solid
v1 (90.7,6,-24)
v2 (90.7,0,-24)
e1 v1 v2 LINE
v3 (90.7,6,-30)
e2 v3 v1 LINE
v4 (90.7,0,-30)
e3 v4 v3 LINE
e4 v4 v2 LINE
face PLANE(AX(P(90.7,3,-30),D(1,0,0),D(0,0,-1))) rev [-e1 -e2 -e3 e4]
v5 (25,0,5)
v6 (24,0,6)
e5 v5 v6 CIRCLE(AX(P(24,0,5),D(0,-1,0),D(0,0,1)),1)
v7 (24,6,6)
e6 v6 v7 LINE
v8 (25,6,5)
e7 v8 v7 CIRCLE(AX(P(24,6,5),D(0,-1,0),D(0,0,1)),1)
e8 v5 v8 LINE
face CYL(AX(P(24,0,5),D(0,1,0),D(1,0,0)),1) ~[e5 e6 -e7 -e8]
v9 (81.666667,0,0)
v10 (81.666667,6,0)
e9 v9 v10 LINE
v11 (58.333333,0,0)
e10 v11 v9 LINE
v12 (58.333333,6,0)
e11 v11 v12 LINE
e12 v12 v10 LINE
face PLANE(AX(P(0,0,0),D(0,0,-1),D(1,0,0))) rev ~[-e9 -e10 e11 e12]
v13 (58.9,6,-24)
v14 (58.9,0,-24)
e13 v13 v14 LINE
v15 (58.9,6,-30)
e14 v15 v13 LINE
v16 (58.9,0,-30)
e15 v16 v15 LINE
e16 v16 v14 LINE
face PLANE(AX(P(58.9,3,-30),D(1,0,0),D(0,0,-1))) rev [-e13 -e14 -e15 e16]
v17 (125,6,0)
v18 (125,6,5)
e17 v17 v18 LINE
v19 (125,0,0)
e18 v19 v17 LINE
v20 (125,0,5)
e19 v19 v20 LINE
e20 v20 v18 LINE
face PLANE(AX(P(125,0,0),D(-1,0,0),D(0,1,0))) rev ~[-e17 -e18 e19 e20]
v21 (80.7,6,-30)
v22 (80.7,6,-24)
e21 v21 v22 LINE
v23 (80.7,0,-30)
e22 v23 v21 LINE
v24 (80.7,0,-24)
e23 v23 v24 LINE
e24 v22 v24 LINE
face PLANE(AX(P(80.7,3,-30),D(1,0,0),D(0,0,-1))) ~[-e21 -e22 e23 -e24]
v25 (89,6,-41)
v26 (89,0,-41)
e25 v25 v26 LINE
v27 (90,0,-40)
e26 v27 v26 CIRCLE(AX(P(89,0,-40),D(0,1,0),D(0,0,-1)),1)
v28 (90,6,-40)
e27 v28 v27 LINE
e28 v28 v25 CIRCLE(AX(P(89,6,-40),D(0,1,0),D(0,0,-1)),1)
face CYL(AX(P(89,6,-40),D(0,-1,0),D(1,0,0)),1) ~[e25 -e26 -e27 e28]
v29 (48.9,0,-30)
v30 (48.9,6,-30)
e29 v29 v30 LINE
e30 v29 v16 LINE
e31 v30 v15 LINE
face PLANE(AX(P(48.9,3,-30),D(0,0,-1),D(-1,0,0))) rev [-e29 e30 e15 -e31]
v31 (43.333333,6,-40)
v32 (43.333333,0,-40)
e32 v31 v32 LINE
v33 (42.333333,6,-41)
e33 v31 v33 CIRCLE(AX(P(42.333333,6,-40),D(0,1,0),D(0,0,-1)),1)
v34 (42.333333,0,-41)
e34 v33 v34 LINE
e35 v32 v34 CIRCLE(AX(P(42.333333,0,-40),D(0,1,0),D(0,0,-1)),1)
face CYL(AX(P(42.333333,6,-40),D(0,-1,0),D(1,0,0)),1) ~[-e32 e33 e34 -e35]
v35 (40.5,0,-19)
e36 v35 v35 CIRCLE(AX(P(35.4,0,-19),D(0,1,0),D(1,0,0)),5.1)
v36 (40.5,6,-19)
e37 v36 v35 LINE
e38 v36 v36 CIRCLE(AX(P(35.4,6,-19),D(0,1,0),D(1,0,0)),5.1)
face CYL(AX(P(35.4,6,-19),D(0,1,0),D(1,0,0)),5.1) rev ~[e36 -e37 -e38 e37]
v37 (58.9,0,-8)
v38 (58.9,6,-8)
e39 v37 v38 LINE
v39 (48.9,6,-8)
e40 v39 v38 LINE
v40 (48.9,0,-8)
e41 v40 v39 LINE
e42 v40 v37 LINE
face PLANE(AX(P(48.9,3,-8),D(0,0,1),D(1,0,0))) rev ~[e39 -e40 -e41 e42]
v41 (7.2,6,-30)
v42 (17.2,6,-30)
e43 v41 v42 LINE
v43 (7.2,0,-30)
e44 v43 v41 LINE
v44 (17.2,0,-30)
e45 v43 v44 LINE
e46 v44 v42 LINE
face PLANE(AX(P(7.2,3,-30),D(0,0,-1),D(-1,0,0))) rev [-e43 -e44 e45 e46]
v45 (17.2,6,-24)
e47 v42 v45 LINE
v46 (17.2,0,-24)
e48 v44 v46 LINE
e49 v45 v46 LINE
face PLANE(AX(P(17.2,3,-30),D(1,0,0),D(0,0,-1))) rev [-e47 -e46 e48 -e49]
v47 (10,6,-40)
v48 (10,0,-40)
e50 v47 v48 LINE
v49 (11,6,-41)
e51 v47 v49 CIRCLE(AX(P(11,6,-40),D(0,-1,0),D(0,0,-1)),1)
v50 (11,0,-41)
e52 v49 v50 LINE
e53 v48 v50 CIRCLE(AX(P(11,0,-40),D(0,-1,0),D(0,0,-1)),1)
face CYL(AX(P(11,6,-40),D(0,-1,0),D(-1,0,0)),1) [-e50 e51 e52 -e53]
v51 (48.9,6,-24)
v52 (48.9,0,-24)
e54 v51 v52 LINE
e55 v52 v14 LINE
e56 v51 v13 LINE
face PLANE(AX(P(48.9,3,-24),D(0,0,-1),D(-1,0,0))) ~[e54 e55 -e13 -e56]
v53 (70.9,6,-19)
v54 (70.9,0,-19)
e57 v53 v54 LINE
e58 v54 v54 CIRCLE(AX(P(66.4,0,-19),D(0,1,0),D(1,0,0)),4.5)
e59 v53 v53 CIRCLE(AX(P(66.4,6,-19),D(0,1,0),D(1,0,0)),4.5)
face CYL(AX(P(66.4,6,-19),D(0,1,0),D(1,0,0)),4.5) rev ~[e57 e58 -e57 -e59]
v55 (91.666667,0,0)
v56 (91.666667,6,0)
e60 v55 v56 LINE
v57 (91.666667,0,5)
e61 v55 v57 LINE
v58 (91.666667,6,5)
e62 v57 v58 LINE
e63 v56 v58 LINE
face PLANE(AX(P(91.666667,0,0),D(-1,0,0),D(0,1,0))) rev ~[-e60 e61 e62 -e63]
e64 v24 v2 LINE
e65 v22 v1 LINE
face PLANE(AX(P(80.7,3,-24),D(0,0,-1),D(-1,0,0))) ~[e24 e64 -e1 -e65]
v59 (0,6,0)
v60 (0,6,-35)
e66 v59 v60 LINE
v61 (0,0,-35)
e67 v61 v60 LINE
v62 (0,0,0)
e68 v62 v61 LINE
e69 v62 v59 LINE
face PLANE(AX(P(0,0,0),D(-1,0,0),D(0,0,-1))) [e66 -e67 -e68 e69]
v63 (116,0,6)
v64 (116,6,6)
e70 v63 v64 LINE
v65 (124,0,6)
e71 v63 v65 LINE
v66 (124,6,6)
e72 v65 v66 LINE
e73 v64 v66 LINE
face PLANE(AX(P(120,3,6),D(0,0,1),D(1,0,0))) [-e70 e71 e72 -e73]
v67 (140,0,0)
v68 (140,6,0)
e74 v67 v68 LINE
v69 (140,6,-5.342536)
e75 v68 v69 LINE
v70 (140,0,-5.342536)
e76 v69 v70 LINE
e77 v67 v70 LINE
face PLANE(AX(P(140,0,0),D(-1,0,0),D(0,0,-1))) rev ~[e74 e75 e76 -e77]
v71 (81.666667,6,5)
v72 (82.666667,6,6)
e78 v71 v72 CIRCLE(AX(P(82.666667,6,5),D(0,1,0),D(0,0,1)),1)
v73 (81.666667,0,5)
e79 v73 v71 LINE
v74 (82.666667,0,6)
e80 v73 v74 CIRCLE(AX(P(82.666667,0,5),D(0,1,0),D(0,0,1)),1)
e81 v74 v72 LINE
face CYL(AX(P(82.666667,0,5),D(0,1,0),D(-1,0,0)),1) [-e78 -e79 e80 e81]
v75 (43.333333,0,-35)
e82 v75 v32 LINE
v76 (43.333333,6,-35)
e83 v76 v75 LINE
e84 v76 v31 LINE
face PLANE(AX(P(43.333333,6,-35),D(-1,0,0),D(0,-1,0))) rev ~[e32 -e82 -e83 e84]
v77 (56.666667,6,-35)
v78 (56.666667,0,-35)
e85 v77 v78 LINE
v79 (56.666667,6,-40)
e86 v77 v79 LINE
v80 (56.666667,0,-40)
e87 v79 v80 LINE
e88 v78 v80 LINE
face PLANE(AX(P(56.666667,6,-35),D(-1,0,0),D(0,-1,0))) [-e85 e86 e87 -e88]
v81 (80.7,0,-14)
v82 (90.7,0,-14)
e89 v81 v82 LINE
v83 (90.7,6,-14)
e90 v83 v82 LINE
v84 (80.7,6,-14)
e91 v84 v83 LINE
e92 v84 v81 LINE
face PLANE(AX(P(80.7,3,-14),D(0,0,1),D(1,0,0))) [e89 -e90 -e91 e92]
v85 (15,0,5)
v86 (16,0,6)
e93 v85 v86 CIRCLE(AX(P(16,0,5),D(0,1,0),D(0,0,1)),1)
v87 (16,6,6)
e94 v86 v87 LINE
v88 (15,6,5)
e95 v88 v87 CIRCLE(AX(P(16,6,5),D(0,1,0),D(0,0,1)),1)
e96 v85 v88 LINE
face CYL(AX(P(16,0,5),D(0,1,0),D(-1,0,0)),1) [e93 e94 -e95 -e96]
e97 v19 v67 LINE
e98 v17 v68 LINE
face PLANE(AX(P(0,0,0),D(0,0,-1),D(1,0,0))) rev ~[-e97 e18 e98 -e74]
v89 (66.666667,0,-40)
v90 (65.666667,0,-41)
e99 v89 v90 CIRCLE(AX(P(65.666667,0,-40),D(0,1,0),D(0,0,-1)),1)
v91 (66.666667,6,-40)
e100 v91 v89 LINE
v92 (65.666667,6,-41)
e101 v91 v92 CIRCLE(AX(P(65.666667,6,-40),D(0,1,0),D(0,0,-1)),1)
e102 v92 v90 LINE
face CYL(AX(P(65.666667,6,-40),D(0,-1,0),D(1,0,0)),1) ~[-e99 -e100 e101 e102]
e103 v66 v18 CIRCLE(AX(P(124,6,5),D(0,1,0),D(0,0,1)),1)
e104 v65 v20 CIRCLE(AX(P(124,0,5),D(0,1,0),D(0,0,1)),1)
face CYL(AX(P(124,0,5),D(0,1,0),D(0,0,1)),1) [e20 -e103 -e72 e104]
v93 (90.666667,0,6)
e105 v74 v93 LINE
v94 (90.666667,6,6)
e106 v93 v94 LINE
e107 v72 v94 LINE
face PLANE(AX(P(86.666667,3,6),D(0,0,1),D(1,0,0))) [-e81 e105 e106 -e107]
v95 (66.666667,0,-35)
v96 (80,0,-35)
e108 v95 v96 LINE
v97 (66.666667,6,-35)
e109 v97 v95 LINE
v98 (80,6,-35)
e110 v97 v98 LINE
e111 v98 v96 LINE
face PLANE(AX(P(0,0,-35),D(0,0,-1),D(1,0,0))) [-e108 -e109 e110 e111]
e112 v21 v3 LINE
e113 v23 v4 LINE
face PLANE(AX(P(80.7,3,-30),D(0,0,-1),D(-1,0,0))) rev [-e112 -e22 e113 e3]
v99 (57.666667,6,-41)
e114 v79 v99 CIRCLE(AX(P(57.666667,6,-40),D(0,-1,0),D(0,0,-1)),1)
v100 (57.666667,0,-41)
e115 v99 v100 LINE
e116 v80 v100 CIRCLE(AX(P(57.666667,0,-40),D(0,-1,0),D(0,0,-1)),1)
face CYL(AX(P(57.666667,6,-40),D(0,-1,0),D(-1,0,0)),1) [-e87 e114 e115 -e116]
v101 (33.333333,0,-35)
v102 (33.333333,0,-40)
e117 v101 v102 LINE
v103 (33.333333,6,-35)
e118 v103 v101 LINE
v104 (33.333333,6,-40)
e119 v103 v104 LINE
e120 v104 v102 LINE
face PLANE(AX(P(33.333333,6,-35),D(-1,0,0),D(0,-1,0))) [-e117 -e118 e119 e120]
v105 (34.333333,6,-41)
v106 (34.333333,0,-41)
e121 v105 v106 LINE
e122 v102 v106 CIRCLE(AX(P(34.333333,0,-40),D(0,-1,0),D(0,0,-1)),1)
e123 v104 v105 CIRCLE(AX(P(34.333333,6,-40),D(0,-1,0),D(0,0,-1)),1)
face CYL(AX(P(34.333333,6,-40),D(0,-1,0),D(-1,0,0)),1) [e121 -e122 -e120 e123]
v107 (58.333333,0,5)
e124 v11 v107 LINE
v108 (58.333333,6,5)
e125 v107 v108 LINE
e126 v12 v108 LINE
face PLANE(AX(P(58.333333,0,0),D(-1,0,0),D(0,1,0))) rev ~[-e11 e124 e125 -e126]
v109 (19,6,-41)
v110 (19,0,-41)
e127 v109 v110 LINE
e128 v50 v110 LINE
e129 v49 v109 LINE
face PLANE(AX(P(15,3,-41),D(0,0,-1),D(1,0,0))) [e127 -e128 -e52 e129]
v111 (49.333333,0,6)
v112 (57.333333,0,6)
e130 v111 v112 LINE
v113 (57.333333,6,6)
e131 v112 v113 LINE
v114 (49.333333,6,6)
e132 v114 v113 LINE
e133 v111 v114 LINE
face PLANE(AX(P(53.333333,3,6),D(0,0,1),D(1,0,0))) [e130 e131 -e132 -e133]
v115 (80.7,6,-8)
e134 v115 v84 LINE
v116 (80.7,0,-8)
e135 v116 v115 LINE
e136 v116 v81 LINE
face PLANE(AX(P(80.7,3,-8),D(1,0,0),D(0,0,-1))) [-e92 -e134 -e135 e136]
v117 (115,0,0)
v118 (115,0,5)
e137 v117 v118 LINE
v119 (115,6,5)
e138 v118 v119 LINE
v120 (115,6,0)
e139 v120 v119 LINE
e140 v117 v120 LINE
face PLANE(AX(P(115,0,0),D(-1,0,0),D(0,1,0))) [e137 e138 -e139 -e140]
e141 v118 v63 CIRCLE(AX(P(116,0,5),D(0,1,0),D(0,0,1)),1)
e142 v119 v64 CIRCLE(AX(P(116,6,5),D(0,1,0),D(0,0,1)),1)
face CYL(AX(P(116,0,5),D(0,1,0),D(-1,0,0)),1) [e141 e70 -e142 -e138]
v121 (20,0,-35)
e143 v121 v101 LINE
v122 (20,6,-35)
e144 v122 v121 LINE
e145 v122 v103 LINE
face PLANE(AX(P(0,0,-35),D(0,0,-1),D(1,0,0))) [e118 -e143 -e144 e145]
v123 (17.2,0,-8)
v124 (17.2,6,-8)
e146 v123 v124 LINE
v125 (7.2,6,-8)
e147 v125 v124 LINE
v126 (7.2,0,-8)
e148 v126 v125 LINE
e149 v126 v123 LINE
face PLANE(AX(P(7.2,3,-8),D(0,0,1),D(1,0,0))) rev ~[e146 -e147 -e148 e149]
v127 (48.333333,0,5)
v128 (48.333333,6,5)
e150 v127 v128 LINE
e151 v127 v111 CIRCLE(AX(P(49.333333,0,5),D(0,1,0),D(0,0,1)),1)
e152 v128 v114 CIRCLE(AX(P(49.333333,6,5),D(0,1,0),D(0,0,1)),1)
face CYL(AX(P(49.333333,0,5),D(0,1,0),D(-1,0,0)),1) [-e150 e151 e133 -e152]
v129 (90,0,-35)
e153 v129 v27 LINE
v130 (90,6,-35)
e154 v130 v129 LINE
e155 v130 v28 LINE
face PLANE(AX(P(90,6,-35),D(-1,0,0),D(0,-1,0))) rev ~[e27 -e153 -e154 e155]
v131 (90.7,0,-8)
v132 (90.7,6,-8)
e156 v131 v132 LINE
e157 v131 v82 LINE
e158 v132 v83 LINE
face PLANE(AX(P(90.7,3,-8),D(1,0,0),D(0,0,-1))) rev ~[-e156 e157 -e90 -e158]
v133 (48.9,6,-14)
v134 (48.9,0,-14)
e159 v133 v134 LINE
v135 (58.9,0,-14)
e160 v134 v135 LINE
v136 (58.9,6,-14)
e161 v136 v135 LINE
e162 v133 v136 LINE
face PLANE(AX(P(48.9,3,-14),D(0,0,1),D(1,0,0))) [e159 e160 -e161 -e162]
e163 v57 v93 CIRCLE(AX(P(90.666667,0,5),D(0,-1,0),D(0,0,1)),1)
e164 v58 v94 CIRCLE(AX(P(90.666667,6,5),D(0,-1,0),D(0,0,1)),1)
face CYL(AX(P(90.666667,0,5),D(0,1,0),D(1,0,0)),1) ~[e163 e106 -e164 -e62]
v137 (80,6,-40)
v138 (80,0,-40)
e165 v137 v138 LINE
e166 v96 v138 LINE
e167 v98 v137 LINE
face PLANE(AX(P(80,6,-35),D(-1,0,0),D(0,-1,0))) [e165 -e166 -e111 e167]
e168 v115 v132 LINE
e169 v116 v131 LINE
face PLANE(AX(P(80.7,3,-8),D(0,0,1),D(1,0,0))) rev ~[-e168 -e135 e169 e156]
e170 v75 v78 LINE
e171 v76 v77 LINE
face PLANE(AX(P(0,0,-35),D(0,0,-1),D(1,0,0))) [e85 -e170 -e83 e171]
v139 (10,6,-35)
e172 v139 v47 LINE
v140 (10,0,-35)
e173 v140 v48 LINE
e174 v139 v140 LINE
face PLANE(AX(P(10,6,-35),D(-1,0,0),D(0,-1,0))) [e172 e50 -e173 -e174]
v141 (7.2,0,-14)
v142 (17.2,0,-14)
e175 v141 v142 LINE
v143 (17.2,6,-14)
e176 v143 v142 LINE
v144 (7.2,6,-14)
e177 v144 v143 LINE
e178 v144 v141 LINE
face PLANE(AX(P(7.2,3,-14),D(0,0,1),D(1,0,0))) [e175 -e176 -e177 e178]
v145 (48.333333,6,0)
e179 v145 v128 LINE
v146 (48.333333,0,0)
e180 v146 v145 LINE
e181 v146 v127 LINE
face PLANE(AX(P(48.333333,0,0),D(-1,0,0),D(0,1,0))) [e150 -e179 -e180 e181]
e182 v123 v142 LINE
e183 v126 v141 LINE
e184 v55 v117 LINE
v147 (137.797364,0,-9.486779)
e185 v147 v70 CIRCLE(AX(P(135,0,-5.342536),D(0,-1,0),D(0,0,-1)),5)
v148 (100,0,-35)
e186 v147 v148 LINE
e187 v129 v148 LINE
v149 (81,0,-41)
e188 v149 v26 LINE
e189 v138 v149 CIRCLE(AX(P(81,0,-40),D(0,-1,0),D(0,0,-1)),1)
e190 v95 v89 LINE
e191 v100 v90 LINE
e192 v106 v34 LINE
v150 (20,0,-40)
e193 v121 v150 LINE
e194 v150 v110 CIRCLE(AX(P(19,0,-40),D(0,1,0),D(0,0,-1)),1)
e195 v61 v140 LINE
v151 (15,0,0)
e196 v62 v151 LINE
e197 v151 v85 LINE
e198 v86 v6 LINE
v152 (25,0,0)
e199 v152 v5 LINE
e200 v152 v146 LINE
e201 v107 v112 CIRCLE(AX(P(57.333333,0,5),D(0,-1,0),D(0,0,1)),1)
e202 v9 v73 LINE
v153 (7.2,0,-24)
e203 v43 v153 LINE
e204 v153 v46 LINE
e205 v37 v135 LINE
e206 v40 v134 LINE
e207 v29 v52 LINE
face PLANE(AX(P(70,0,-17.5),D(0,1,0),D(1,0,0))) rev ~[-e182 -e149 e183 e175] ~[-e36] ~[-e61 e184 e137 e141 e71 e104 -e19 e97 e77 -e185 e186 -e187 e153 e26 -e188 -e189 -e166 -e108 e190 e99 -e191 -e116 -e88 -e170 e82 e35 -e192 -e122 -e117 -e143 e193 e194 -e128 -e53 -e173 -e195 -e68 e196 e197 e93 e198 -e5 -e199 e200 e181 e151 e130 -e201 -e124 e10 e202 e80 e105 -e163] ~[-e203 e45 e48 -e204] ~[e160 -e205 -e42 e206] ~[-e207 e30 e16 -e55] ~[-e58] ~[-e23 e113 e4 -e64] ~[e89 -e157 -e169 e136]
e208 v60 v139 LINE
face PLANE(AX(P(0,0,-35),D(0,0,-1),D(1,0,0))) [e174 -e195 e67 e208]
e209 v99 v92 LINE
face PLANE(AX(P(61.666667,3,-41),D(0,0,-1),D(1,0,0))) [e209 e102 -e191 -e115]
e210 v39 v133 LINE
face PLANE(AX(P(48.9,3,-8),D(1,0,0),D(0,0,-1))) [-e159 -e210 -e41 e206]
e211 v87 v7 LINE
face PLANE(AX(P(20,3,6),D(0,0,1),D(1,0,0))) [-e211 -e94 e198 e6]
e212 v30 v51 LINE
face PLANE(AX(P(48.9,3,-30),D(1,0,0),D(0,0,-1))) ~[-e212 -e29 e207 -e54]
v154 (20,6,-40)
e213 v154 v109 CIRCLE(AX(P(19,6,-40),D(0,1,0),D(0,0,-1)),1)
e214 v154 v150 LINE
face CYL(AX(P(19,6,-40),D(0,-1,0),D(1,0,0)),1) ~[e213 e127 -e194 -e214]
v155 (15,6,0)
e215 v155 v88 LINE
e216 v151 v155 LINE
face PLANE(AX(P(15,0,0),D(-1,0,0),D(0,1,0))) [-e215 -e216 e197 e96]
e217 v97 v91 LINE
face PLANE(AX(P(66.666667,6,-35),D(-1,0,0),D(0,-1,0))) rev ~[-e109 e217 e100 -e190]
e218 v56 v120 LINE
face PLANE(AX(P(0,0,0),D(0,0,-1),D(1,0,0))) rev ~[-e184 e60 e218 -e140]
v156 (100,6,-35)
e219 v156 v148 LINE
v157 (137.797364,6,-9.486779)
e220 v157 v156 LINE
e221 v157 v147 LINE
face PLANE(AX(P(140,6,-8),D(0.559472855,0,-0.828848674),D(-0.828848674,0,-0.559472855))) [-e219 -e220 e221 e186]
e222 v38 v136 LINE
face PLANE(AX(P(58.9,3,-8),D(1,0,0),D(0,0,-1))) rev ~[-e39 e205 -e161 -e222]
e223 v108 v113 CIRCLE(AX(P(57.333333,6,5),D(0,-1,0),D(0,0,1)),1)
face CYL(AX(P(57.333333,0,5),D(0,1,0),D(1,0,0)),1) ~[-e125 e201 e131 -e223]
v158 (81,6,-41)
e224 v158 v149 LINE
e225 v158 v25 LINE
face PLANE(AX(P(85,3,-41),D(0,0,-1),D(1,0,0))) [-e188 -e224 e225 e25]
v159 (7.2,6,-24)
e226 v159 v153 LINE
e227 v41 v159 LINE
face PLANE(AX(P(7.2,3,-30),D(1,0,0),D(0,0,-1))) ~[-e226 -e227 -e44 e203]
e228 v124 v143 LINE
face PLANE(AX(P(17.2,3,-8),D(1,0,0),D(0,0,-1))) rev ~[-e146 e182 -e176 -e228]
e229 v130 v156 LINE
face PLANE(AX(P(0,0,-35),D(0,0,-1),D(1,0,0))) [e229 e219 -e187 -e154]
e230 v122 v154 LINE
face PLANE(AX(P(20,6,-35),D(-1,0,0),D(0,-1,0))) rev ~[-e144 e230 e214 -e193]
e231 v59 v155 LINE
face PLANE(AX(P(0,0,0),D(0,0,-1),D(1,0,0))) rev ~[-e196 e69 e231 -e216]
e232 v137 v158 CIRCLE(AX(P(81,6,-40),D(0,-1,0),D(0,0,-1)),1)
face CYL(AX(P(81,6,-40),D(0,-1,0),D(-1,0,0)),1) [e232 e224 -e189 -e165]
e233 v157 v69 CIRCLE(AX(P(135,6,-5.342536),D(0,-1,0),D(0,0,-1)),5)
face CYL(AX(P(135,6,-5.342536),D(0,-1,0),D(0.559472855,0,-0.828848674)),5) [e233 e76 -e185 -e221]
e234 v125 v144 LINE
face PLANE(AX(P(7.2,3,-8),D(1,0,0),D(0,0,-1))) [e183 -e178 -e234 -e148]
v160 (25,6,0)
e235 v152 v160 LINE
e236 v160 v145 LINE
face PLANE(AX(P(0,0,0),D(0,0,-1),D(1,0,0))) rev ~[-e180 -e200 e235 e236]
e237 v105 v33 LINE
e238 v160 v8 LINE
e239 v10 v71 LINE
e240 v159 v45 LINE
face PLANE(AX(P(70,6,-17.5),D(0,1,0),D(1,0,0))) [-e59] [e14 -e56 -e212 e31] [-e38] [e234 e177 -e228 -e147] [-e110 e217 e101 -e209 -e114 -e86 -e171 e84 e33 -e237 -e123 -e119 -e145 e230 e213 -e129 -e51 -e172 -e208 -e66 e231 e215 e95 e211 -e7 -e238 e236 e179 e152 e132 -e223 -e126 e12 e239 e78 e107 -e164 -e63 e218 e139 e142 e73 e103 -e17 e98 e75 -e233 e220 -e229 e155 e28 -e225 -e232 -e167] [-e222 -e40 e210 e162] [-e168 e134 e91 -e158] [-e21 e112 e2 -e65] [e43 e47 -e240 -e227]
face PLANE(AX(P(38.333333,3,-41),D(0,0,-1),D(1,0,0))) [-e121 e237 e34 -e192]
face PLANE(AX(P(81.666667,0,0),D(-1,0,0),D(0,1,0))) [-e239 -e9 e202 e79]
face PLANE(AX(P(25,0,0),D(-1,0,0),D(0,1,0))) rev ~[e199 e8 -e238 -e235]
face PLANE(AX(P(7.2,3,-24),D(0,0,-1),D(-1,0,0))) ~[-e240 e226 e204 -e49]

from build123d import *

# Parameters (mm, degrees)
SKETCH1_W              = 140
SKETCH1_H              = 35
BOSS_EXTRUDE1_DEPTH    = 6
SKETCH2_R              = 4.5
SKETCH2_R_2            = 5.1
CUT_EXTRUDE1_DEPTH     = 7
CUT_EXTRUDE2_DEPTH     = 7
SKETCH234_W            = 10
SKETCH234_H            = 6
BOSS_EXTRUDE234_DEPTH  = 6
FILLET134_R            = 1
SKETCH2341_W           = 10
SKETCH2341_H           = 6
BOSS_EXTRUDE2341_DEPTH = 6
FILLET1341_R           = 1
SKETCH2342_W           = 10
SKETCH2342_H           = 6
BOSS_EXTRUDE2342_DEPTH = 6
FILLET1342_R           = 1
SKETCH2343_W           = 10
SKETCH2343_H           = 6
BOSS_EXTRUDE2343_DEPTH = 6
FILLET1343_R           = 1
SKETCH2344_W           = 10
SKETCH2344_H           = 6
BOSS_EXTRUDE2344_DEPTH = 6
FILLET1344_R           = 1
SKETCH2345_W           = 10
SKETCH2345_H           = 6
BOSS_EXTRUDE2345_DEPTH = 6
FILLET1345_R           = 1
SKETCH2346_W           = 10
SKETCH2346_H           = 6
BOSS_EXTRUDE2346_DEPTH = 6
FILLET1346_R           = 1
SKETCH2347_W           = 10
SKETCH2347_H           = 6
BOSS_EXTRUDE2347_DEPTH = 6
FILLET1347_R           = 1
SKETCH6_W              = 10
SKETCH6_H              = 6
CUT_EXTRUDE11_DEPTH    = 4
SKETCH61_W             = 10
SKETCH61_H             = 6
CUT_EXTRUDE12_DEPTH    = 4
SKETCH62_W             = 10
SKETCH62_H             = 6
CUT_EXTRUDE13_DEPTH    = 4
FILLET1348_R           = 5


with BuildPart() as part:
    # Sketch1 → Boss-Extrude1 (new body)
    with BuildSketch(Plane(origin=(0, 0, 0), x_dir=(1, 0, 0), z_dir=(0, 1, 0))):
        with Locations((70, 17.5)):
            Rectangle(SKETCH1_W, SKETCH1_H)
    extrude(amount=BOSS_EXTRUDE1_DEPTH)

    # Sketch2 → Cut-Extrude1 (cut, through all)
    with BuildSketch(Plane(origin=(0, 6, 0), x_dir=(1, 0, 0), z_dir=(0, 1, 0))):
        with Locations((66.4, 19)):
            Circle(SKETCH2_R)
        with Locations((35.4, 19)):
            Circle(SKETCH2_R_2)
    extrude(amount=-CUT_EXTRUDE1_DEPTH, mode=Mode.SUBTRACT)

    # Sketch3 → Cut-Extrude2 (cut, through all)
    with BuildSketch(Plane(origin=(0, 6, 0), x_dir=(1, 0, 0), z_dir=(0, 1, 0))):
        Polygon((140, 8), (100, 35), (140, 35), align=None)
    extrude(amount=-CUT_EXTRUDE2_DEPTH, mode=Mode.SUBTRACT)

    # Sketch234 → Boss-Extrude234 (add)
    with BuildSketch(Plane(origin=(119.232221392, 0, 0), x_dir=(1, 0, 0), z_dir=(0, 0, 1))):
        with Locations((0.767778608, 3)):
            Rectangle(SKETCH234_W, SKETCH234_H)
    extrude(amount=BOSS_EXTRUDE234_DEPTH)

    # Fillet134
    fillet134_edges = [part.edges().sort_by_distance(p)[0] for p in [
        (115, 3, 6),
        (125, 3, 6),
    ]]
    fillet(fillet134_edges, radius=FILLET134_R)

    # Sketch2341 → Boss-Extrude2341 (add)
    with BuildSketch(Plane(origin=(85.898888059, 0, 0), x_dir=(1, 0, 0), z_dir=(0, 0, 1))):
        with Locations((0.767778608, 3)):
            Rectangle(SKETCH2341_W, SKETCH2341_H)
    extrude(amount=BOSS_EXTRUDE2341_DEPTH)

    # Fillet1341
    fillet1341_edges = [part.edges().sort_by_distance(p)[0] for p in [
        (91.666666667, 3, 6),
        (81.666666667, 3, 6),
    ]]
    fillet(fillet1341_edges, radius=FILLET1341_R)

    # Sketch2342 → Boss-Extrude2342 (add)
    with BuildSketch(Plane(origin=(52.565554726, 0, 0), x_dir=(1, 0, 0), z_dir=(0, 0, 1))):
        with Locations((0.767778608, 3)):
            Rectangle(SKETCH2342_W, SKETCH2342_H)
    extrude(amount=BOSS_EXTRUDE2342_DEPTH)

    # Fillet1342
    fillet1342_edges = [part.edges().sort_by_distance(p)[0] for p in [
        (58.333333333, 3, 6),
        (48.333333333, 3, 6),
    ]]
    fillet(fillet1342_edges, radius=FILLET1342_R)

    # Sketch2343 → Boss-Extrude2343 (add)
    with BuildSketch(Plane(origin=(19.232221392, 0, 0), x_dir=(1, 0, 0), z_dir=(0, 0, 1))):
        with Locations((0.767778608, 3)):
            Rectangle(SKETCH2343_W, SKETCH2343_H)
    extrude(amount=BOSS_EXTRUDE2343_DEPTH)

    # Fillet1343
    fillet1343_edges = [part.edges().sort_by_distance(p)[0] for p in [
        (25, 3, 6),
        (15, 3, 6),
    ]]
    fillet(fillet1343_edges, radius=FILLET1343_R)

    # Sketch2344 → Boss-Extrude2344 (add)
    with BuildSketch(Plane(origin=(84.232221392, 6, -35), x_dir=(1, 0, 0), z_dir=(0, 0, -1))):
        with Locations((0.767778608, 3)):
            Rectangle(SKETCH2344_W, SKETCH2344_H)
    extrude(amount=BOSS_EXTRUDE2344_DEPTH)

    # Fillet1344
    fillet1344_edges = [part.edges().sort_by_distance(p)[0] for p in [
        (80, 3, -41),
        (90, 3, -41),
    ]]
    fillet(fillet1344_edges, radius=FILLET1344_R)

    # Sketch2345 → Boss-Extrude2345 (add)
    with BuildSketch(Plane(origin=(60.898888059, 6, -35), x_dir=(1, 0, 0), z_dir=(0, 0, -1))):
        with Locations((0.767778608, 3)):
            Rectangle(SKETCH2345_W, SKETCH2345_H)
    extrude(amount=BOSS_EXTRUDE2345_DEPTH)

    # Fillet1345
    fillet1345_edges = [part.edges().sort_by_distance(p)[0] for p in [
        (66.666666667, 3, -41),
        (56.666666667, 3, -41),
    ]]
    fillet(fillet1345_edges, radius=FILLET1345_R)

    # Sketch2346 → Boss-Extrude2346 (add)
    with BuildSketch(Plane(origin=(37.565554726, 6, -35), x_dir=(1, 0, 0), z_dir=(0, 0, -1))):
        with Locations((0.767778608, 3)):
            Rectangle(SKETCH2346_W, SKETCH2346_H)
    extrude(amount=BOSS_EXTRUDE2346_DEPTH)

    # Fillet1346
    fillet1346_edges = [part.edges().sort_by_distance(p)[0] for p in [
        (43.333333333, 3, -41),
        (33.333333333, 3, -41),
    ]]
    fillet(fillet1346_edges, radius=FILLET1346_R)

    # Sketch2347 → Boss-Extrude2347 (add)
    with BuildSketch(Plane(origin=(14.232221392, 6, -35), x_dir=(1, 0, 0), z_dir=(0, 0, -1))):
        with Locations((0.767778608, 3)):
            Rectangle(SKETCH2347_W, SKETCH2347_H)
    extrude(amount=BOSS_EXTRUDE2347_DEPTH)

    # Fillet1347
    fillet1347_edges = [part.edges().sort_by_distance(p)[0] for p in [
        (20, 3, -41),
        (10, 3, -41),
    ]]
    fillet(fillet1347_edges, radius=FILLET1347_R)

    # Sketch6 → Cut-Extrude11 (cut, symmetric)
    with BuildSketch(Plane(origin=(84.932221392, 3, -55), x_dir=(1, 0, 0), z_dir=(0, 1, 0))):
        with Locations((0.767778608, -44)):
            Rectangle(SKETCH6_W, SKETCH6_H)
    cut_extrude11 = extrude(amount=CUT_EXTRUDE11_DEPTH, both=True, mode=Mode.SUBTRACT)

    # Sketch61 → Cut-Extrude12 (cut, symmetric)
    with BuildSketch(Plane(origin=(53.132221392, 3, -55), x_dir=(1, 0, 0), z_dir=(0, 1, 0))):
        with Locations((0.767778608, -44)):
            Rectangle(SKETCH61_W, SKETCH61_H)
    cut_extrude12 = extrude(amount=CUT_EXTRUDE12_DEPTH, both=True, mode=Mode.SUBTRACT)

    # Sketch62 → Cut-Extrude13 (cut, symmetric)
    with BuildSketch(Plane(origin=(11.432221392, 3, -55), x_dir=(1, 0, 0), z_dir=(0, 1, 0))):
        with Locations((0.767778608, -44)):
            Rectangle(SKETCH62_W, SKETCH62_H)
    cut_extrude13 = extrude(amount=CUT_EXTRUDE13_DEPTH, both=True, mode=Mode.SUBTRACT)

    # Mirror1: Cut-Extrude11, Cut-Extrude12, Cut-Extrude13 across plane
    add(cut_extrude11.mirror(Plane.XY.offset(-19)), mode=Mode.SUBTRACT)
    add(cut_extrude12.mirror(Plane.XY.offset(-19)), mode=Mode.SUBTRACT)
    add(cut_extrude13.mirror(Plane.XY.offset(-19)), mode=Mode.SUBTRACT)

    # Fillet1348
    fillet1348_edges = [part.edges().sort_by_distance(p)[0] for p in [
        (140, 3, -8),
    ]]
    fillet(fillet1348_edges, radius=FILLET1348_R)


solid = part.part
